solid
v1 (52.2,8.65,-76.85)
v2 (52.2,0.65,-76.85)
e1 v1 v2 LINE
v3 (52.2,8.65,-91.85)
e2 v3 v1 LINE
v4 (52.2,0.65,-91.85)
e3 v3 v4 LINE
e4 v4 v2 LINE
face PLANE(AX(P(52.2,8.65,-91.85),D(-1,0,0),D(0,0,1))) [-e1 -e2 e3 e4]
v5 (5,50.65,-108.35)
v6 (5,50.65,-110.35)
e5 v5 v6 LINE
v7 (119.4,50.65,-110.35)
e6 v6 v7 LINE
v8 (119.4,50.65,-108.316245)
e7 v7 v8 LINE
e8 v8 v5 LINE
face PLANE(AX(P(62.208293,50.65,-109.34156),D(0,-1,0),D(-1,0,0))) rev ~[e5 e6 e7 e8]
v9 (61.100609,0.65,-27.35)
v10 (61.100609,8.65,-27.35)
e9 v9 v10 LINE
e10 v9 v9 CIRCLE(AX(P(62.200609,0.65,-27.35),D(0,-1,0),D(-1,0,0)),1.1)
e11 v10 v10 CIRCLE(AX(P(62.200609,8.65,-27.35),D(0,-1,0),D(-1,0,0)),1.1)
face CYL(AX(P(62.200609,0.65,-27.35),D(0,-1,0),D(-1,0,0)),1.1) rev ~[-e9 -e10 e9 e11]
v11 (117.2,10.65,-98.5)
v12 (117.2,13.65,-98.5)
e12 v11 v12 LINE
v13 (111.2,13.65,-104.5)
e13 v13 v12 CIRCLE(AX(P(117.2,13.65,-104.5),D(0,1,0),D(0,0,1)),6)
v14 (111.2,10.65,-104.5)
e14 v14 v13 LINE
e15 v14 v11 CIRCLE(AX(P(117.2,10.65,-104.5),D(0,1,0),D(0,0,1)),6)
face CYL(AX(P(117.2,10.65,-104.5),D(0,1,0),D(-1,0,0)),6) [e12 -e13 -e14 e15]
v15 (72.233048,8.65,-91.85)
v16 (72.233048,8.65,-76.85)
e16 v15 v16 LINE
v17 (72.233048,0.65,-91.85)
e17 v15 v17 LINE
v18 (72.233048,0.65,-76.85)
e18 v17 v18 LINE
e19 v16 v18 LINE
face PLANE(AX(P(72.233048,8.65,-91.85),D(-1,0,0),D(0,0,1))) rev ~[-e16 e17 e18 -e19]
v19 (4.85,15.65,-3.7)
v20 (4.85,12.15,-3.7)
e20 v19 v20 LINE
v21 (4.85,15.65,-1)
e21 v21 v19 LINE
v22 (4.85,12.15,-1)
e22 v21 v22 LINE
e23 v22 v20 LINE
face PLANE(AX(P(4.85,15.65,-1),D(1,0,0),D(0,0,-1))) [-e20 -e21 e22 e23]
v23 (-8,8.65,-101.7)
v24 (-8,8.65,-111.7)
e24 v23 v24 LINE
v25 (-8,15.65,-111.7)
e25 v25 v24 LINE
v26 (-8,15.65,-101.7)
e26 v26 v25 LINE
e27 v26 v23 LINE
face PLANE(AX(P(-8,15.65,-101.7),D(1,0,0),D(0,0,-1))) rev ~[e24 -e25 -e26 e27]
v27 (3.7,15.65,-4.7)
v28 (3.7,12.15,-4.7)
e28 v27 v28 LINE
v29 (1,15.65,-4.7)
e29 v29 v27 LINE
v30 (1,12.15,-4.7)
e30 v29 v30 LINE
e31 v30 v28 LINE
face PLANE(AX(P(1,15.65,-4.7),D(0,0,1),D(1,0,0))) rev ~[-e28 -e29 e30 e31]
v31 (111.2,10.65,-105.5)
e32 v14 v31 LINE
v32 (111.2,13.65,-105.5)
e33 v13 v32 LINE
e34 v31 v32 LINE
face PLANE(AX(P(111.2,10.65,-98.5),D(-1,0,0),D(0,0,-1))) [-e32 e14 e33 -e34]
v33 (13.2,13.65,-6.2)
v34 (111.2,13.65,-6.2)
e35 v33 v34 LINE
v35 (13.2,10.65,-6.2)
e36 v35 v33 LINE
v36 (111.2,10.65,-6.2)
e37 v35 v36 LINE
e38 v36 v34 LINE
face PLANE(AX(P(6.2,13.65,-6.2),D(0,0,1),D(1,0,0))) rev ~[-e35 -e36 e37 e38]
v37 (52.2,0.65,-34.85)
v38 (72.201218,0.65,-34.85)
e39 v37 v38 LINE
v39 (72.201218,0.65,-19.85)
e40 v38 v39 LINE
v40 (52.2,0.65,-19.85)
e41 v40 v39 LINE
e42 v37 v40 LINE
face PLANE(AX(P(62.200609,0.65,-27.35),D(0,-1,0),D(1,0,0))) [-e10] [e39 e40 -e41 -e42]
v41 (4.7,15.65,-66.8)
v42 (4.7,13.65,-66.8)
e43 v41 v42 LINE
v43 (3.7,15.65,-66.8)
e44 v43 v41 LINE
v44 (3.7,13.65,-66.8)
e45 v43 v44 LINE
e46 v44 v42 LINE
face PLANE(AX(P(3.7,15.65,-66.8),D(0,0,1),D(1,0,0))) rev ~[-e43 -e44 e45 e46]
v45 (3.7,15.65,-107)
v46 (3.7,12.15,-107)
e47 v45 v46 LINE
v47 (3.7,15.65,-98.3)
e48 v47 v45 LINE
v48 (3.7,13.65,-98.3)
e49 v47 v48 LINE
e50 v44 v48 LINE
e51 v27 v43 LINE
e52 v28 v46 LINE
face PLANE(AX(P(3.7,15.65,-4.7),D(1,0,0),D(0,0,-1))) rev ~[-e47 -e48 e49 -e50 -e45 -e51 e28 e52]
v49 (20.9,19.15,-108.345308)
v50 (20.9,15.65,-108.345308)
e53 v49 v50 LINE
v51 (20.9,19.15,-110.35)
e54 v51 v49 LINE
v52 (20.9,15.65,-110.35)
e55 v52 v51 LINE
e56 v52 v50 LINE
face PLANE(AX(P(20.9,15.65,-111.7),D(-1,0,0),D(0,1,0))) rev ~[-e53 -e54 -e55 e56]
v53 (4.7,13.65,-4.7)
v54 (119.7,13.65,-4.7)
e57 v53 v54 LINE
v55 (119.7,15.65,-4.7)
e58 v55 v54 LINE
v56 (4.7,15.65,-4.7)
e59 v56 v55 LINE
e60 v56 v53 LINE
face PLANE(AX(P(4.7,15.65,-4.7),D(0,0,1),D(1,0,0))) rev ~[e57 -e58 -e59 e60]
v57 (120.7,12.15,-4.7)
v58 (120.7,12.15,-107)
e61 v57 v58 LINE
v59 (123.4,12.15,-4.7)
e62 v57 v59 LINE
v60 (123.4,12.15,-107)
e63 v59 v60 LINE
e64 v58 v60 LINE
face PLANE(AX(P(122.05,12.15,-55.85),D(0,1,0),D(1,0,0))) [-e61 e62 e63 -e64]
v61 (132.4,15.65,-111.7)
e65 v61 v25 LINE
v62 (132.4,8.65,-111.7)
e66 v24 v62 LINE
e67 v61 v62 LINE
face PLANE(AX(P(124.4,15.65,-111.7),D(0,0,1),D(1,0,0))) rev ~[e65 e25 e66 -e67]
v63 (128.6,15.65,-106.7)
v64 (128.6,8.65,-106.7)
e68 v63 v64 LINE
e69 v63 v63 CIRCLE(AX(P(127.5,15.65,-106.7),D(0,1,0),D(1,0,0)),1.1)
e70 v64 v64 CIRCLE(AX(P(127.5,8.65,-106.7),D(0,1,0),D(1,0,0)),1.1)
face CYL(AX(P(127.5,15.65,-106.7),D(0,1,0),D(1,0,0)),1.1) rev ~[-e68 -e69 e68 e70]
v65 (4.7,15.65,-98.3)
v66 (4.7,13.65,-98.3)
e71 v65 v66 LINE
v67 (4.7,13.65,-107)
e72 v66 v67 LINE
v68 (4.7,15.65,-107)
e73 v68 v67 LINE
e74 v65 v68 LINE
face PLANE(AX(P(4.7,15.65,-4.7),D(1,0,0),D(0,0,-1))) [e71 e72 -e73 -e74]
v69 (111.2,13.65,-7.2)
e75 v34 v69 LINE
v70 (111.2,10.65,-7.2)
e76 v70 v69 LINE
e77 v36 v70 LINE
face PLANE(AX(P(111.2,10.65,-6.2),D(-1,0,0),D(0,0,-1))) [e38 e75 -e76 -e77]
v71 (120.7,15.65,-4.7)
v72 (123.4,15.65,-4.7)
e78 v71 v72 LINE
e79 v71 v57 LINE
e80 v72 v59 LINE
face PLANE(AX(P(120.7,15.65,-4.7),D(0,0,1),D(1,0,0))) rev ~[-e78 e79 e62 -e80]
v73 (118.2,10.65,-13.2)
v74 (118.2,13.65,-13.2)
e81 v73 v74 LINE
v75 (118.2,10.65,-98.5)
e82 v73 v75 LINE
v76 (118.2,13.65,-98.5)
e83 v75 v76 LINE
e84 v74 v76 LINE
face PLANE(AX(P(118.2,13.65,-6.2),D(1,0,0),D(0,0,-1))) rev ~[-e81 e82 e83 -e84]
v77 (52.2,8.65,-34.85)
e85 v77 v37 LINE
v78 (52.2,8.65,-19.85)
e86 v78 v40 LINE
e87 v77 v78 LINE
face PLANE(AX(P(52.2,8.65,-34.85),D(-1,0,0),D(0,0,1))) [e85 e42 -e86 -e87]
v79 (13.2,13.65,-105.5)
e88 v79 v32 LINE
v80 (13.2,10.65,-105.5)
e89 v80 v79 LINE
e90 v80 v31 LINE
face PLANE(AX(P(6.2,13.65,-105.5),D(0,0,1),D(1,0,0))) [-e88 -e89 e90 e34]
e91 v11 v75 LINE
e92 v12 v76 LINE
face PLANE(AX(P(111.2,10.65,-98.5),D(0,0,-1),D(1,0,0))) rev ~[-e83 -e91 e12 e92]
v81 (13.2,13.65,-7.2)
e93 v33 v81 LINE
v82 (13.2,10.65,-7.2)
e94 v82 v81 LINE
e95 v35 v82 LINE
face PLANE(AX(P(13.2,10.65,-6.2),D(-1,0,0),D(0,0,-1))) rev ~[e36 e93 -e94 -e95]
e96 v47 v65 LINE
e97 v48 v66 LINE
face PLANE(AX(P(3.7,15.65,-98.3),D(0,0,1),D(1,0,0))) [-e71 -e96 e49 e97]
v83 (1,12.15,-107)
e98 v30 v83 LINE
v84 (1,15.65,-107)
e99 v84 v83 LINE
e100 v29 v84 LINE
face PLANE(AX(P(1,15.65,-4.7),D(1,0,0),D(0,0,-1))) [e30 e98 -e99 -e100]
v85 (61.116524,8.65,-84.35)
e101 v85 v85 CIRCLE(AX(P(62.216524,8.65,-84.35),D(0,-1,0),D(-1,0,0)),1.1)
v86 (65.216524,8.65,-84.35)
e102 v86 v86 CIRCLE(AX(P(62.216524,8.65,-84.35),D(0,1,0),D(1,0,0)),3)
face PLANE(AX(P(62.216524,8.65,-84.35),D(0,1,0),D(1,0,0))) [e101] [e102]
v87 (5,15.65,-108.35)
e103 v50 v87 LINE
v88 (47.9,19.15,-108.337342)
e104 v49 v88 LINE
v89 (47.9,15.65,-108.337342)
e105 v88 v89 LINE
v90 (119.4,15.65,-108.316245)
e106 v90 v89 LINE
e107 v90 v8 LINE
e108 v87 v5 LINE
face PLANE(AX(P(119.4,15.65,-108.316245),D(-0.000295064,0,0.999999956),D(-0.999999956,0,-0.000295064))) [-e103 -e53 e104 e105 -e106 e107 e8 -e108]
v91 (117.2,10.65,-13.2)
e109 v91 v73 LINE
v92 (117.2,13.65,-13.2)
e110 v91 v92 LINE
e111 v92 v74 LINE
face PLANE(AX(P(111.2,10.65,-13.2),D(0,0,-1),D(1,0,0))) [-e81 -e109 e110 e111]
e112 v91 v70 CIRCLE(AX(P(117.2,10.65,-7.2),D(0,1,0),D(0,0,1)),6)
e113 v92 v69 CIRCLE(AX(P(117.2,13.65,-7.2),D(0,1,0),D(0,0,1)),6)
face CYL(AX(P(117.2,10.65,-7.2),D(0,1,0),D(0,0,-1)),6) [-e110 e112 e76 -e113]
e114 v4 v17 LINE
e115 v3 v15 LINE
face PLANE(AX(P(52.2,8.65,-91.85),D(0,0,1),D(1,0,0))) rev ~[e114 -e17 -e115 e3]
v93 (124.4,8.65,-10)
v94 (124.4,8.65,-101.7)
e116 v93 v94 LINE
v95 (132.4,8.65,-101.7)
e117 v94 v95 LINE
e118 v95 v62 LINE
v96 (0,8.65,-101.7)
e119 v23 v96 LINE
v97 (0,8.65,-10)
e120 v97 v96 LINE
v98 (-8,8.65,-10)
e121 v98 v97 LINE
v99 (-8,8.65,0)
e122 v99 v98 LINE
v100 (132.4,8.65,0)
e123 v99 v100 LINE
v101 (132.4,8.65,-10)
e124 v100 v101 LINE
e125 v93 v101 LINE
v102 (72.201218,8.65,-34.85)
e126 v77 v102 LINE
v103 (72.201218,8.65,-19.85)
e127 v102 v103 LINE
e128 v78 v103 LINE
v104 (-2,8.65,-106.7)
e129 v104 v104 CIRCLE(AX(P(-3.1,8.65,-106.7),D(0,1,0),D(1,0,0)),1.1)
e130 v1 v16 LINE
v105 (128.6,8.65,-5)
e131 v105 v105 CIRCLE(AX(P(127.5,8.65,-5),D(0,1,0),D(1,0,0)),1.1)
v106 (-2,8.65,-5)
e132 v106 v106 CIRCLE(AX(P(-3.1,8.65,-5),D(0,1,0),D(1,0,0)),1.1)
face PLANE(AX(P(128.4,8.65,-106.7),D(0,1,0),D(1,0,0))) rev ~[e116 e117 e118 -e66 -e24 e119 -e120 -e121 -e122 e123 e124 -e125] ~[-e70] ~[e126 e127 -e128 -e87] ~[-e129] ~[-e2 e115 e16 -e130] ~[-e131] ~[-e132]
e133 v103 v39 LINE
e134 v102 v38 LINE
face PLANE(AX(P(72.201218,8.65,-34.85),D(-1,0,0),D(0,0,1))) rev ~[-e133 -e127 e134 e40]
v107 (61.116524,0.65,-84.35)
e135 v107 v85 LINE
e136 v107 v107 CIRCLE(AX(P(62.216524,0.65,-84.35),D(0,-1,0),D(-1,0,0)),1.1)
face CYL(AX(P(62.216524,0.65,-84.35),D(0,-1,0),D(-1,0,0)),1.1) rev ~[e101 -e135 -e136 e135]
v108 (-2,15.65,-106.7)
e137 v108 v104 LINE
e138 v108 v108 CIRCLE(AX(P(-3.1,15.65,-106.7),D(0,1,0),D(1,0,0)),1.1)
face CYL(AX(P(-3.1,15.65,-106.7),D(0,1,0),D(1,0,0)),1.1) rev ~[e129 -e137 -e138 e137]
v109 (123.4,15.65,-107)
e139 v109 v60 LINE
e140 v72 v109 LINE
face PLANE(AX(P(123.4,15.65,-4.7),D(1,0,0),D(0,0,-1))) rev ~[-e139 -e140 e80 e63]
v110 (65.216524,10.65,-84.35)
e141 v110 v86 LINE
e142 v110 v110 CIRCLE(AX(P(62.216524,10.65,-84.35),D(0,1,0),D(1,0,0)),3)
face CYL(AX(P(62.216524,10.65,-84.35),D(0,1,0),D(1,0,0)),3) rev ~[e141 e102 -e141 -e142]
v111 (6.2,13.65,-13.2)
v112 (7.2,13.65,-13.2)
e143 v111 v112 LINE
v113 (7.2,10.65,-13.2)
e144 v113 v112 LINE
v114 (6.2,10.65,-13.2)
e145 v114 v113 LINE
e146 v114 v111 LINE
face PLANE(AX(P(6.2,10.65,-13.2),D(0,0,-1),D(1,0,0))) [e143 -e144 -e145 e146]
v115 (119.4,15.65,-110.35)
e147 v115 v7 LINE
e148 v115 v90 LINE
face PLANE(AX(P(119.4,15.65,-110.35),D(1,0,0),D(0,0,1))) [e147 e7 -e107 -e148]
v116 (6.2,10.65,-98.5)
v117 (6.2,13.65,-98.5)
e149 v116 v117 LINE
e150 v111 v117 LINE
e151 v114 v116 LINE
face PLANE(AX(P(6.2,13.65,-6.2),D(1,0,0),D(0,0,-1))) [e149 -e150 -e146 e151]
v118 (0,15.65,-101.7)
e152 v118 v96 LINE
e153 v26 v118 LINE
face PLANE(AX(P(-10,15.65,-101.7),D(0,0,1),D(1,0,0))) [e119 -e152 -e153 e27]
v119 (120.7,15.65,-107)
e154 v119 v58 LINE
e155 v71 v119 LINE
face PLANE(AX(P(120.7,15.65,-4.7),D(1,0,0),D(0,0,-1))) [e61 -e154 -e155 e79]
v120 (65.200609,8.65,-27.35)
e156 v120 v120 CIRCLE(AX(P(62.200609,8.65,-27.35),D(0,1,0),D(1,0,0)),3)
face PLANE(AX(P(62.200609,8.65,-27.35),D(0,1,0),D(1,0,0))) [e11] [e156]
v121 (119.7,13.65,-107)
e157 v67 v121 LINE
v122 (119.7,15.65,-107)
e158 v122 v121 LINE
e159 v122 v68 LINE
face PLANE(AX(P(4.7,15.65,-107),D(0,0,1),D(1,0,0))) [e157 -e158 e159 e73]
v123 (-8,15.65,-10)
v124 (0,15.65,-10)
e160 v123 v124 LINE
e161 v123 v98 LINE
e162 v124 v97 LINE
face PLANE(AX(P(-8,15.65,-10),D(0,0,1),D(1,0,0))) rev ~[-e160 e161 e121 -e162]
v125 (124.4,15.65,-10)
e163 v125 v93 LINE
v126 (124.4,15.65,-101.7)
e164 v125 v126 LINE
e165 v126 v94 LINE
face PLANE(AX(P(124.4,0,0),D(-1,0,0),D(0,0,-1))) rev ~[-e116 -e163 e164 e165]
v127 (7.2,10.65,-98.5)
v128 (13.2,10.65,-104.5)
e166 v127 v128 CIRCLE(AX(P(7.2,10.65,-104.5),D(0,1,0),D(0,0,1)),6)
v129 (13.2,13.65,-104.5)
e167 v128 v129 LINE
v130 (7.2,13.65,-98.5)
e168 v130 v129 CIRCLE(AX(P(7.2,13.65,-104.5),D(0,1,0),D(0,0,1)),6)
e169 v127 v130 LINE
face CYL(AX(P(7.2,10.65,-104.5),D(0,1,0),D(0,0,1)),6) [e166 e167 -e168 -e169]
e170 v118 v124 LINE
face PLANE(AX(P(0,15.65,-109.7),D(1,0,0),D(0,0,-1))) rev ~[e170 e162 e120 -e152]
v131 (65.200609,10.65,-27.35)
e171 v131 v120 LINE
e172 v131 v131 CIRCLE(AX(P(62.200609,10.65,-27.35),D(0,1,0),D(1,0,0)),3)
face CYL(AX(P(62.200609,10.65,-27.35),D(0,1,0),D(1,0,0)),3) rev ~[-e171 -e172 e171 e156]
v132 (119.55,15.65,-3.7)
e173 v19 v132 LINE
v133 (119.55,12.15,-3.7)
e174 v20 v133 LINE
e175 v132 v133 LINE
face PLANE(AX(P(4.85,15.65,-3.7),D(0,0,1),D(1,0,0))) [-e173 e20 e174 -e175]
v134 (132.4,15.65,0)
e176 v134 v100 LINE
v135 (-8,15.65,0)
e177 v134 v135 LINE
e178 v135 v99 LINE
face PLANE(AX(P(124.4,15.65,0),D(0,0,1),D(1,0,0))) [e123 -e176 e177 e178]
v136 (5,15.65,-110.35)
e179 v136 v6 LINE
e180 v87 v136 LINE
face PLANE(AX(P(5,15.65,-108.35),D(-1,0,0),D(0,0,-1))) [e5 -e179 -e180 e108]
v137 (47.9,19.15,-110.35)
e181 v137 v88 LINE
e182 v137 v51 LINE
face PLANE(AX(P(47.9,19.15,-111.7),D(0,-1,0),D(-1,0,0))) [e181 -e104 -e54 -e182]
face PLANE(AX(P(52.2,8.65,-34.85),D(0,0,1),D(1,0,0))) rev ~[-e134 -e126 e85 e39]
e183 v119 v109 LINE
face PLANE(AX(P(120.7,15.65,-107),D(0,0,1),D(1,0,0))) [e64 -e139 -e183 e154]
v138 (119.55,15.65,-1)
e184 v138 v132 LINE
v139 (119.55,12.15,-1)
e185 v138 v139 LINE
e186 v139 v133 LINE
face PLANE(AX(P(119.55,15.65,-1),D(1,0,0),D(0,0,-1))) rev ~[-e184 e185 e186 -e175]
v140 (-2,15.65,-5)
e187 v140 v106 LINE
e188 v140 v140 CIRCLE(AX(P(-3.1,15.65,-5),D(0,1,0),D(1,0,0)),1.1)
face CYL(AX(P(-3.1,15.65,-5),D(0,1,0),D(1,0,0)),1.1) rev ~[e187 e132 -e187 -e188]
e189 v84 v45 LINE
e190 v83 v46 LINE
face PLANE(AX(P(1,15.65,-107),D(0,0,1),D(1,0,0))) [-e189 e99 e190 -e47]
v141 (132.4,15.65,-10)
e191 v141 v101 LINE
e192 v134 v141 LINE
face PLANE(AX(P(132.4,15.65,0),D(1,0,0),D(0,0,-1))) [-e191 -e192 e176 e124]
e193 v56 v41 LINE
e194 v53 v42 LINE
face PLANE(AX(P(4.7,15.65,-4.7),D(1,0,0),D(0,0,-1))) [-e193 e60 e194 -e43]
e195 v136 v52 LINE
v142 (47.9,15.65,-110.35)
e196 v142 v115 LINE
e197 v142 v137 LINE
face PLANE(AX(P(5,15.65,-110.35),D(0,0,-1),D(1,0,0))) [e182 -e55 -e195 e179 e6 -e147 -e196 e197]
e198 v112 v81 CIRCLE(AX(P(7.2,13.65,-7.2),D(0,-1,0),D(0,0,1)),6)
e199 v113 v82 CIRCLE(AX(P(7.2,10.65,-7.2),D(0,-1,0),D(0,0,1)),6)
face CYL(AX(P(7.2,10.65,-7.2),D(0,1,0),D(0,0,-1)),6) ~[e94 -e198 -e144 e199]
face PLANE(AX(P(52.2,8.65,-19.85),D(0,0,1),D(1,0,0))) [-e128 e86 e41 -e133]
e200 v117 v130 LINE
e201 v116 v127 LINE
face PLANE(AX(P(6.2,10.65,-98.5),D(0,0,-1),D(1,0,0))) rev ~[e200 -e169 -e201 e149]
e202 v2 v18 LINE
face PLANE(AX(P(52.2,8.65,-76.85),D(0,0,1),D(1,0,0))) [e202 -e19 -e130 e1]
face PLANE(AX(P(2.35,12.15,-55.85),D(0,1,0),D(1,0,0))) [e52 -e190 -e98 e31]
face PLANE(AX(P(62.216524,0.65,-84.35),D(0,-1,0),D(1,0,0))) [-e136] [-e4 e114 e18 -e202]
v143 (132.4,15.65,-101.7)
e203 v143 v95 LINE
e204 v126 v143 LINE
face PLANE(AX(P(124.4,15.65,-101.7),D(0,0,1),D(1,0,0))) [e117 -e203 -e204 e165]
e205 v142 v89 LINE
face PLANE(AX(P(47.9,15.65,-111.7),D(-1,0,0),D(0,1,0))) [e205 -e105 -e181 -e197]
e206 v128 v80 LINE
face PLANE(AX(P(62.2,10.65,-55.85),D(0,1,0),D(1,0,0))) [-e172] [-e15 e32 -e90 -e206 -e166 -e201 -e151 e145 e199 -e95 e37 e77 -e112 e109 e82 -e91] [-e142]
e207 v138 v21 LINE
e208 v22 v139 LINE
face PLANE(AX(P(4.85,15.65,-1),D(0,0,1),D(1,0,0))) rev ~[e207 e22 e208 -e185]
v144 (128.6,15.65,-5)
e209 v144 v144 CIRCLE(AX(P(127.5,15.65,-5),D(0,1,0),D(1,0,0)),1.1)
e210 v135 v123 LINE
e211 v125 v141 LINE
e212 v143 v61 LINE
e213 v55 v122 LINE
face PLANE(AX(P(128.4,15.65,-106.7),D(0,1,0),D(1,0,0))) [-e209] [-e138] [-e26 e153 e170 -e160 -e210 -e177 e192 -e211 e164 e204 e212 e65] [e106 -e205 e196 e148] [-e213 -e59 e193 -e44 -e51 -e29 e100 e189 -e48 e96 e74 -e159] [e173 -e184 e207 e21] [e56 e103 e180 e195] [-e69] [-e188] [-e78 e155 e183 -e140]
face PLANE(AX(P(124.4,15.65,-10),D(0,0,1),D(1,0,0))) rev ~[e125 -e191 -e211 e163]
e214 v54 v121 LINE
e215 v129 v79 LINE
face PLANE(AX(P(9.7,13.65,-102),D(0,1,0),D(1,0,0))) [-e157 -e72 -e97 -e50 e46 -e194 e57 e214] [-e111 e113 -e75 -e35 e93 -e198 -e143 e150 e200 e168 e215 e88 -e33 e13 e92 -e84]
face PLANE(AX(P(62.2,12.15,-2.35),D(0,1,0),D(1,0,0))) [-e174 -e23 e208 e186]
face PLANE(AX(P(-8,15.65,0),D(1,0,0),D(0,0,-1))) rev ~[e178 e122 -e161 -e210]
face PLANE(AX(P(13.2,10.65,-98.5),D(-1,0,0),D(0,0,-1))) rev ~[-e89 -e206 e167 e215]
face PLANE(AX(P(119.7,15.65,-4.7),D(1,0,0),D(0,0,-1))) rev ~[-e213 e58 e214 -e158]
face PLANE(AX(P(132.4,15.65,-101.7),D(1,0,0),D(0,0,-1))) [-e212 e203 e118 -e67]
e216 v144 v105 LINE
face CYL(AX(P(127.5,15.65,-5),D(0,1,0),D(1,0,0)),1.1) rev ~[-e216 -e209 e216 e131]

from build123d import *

# Parameters (mm, degrees)
SKETCH1_W            = 124.4
SKETCH1_H            = 111.7
BOSS_EXTRUDE1_DEPTH  = 15.65
FILLET1_R            = 2
SKETCH4_W            = 115
SKETCH4_H            = 102.3
CUT_EXTRUDE1_DEPTH   = 2
SKETCH5_W            = 112
SKETCH5_H            = 99.3
CUT_EXTRUDE2_DEPTH   = 3
SKETCH10_W           = 7
SKETCH10_H           = 7
BOSS_EXTRUDE2_DEPTH  = 3
BOSS_EXTRUDE5_DEPTH  = 35
FILLET3_R            = 6
SKETCH32_W           = 114.7
SKETCH32_H           = 2.7
SKETCH32_W_2         = 2.7
SKETCH32_H_2         = 102.3
CUT_EXTRUDE7_DEPTH   = 3.5
SKETCH29_W           = 27
SKETCH29_H           = 3.5
CUT_EXTRUDE8_DEPTH   = 112.7
SKETCH34_W           = 1
SKETCH34_H           = 31.5
CUT_EXTRUDE9_DEPTH   = 2
SKETCH39_W           = 124.4
SKETCH39_H           = 111.7
CUT_EXTRUDE14_DEPTH  = 8.65
SKETCH40_W           = 10.736913624
SKETCH40_H           = 4.7
BOSS_EXTRUDE8_DEPTH  = 7
SKETCH42_W           = 6.036913624
SKETCH42_H           = 2.116828075
BOSS_EXTRUDE9_DEPTH  = 7
SKETCH43_W           = 2
SKETCH43_H           = 3.979386742
BOSS_EXTRUDE10_DEPTH = 7
SKETCH44_W           = 10.013933806
SKETCH44_H           = 10.028001726
BOSS_EXTRUDE11_DEPTH = 7
SKETCH45_R           = 1.1
CUT_EXTRUDE15_DEPTH  = 8
SKETCH46_W           = 2
SKETCH46_H           = 2
BOSS_EXTRUDE12_DEPTH = 7
SKETCH47_W           = 2
SKETCH47_H           = 2
BOSS_EXTRUDE13_DEPTH = 7
SKETCH48_W           = 10
SKETCH48_H           = 10
BOSS_EXTRUDE14_DEPTH = 7
SKETCH49_R           = 1.1
SKETCH49_W           = 6.036913624
SKETCH49_H           = 6.816828075
CUT_EXTRUDE18_DEPTH  = 7
SKETCH50_W           = 8
SKETCH50_H           = 10
BOSS_EXTRUDE17_DEPTH = 7
SKETCH51_W           = 5.24842793
SKETCH51_H           = 4.514776714
BOSS_EXTRUDE18_DEPTH = 7
SKETCH52_W           = 2
SKETCH52_H           = 10
CUT_EXTRUDE19_DEPTH  = 7
SKETCH53_W           = 10.013933806
SKETCH53_H           = 10.028001726
CUT_EXTRUDE20_DEPTH  = 7
SKETCH54_W           = 8
SKETCH54_H           = 10
BOSS_EXTRUDE19_DEPTH = 7
SKETCH55_W           = 8
SKETCH55_H           = 10
BOSS_EXTRUDE20_DEPTH = 7
SKETCH56_R           = 1.1
CUT_EXTRUDE21_DEPTH  = 7
SKETCH57_R           = 1.1
CUT_EXTRUDE22_DEPTH  = 7
SKETCH58_R           = 1.1
CUT_EXTRUDE23_DEPTH  = 7
SKETCH59_R           = 1.1
CUT_EXTRUDE24_DEPTH  = 7
SKETCH61_W           = 20.033048375
SKETCH61_H           = 15
SKETCH61_W_2         = 20.00121795
BOSS_EXTRUDE22_DEPTH = 8
SKETCH64_R           = 1.1
CUT_EXTRUDE27_DEPTH  = 51
SKETCH65_R           = 3
CUT_EXTRUDE28_DEPTH  = 2


with BuildPart() as part:
    # Sketch1 → Boss-Extrude1 (new body)
    with BuildSketch(Plane(origin=(0, 0, 0), x_dir=(1, 0, 0), z_dir=(0, 1, 0))):
        with Locations((62.2, 55.85)):
            Rectangle(SKETCH1_W, SKETCH1_H)
    extrude(amount=BOSS_EXTRUDE1_DEPTH)

    # Fillet1
    fillet1_edges = [part.edges().sort_by_distance(p)[0] for p in [
        (0, 7.825, -111.7),
        (124.4, 7.825, -111.7),
        (124.4, 7.825, 0),
        (0, 7.825, 0),
    ]]
    fillet(fillet1_edges, radius=FILLET1_R)

    # Sketch4 → Cut-Extrude1 (cut)
    with BuildSketch(Plane(origin=(0, 15.65, 0), x_dir=(1, 0, 0), z_dir=(0, 1, 0))):
        with Locations((62.2, 55.85)):
            Rectangle(SKETCH4_W, SKETCH4_H)
    extrude(amount=-CUT_EXTRUDE1_DEPTH, mode=Mode.SUBTRACT)

    # Sketch5 → Cut-Extrude2 (cut)
    with BuildSketch(Plane(origin=(0, 13.65, 0), x_dir=(1, 0, 0), z_dir=(0, 1, 0))):
        with Locations((62.2, 55.85)):
            Rectangle(SKETCH5_W, SKETCH5_H)
    extrude(amount=-CUT_EXTRUDE2_DEPTH, mode=Mode.SUBTRACT)

    # Sketch10 → Boss-Extrude2 (add)
    with BuildSketch(Plane(origin=(0, 10.65, 0), x_dir=(1, 0, 0), z_dir=(0, 1, 0))):
        with Locations((9.7, 102)):
            Rectangle(SKETCH10_W, SKETCH10_H)
        with Locations((9.7, 9.7)):
            Rectangle(SKETCH10_W, SKETCH10_H)
        with Locations((114.7, 102)):
            Rectangle(SKETCH10_W, SKETCH10_H)
        with Locations((114.7, 9.7)):
            Rectangle(SKETCH10_W, SKETCH10_H)
    extrude(amount=BOSS_EXTRUDE2_DEPTH)

    # Sketch27 → Boss-Extrude5 (add)
    with BuildSketch(Plane(origin=(0, 15.65, 0), x_dir=(1, 0, 0), z_dir=(0, 1, 0))):
        Polygon((5, 110.35), (119.4, 110.35), (119.4, 108.316244658), (5, 108.35), align=None)
    extrude(amount=BOSS_EXTRUDE5_DEPTH)

    # Fillet3
    fillet3_edges = [part.edges().sort_by_distance(p)[0] for p in [
        (111.2, 12.15, -13.2),
        (13.2, 12.15, -98.5),
        (13.2, 12.15, -13.2),
        (111.2, 12.15, -98.5),
    ]]
    fillet(fillet3_edges, radius=FILLET3_R)

    # Sketch32 → Cut-Extrude7 (cut)
    with BuildSketch(Plane(origin=(0, 15.65, 0), x_dir=(1, 0, 0), z_dir=(0, 1, 0))):
        with Locations((62.2, 2.35)):
            Rectangle(SKETCH32_W, SKETCH32_H)
        with Locations((2.35, 55.85)):
            Rectangle(SKETCH32_W_2, SKETCH32_H_2)
        with Locations((122.05, 55.85)):
            Rectangle(SKETCH32_W_2, SKETCH32_H_2)
    extrude(amount=-CUT_EXTRUDE7_DEPTH, mode=Mode.SUBTRACT)

    # Sketch29 → Cut-Extrude8 (cut, through all)
    with BuildSketch(Plane(origin=(0, 0, -111.7), x_dir=(-1, 0, 0), z_dir=(0, 0, -1))):
        with Locations((-34.4, 17.4)):
            Rectangle(SKETCH29_W, SKETCH29_H)
    extrude(amount=-CUT_EXTRUDE8_DEPTH, mode=Mode.SUBTRACT)

    # Sketch34 → Cut-Extrude9 (cut)
    with BuildSketch(Plane(origin=(0, 15.65, 0), x_dir=(1, 0, 0), z_dir=(0, 1, 0))):
        with Locations((4.2, 82.55)):
            Rectangle(SKETCH34_W, SKETCH34_H)
    extrude(amount=-CUT_EXTRUDE9_DEPTH, mode=Mode.SUBTRACT)

    # Sketch39 → Cut-Extrude14 (cut)
    with BuildSketch(Plane(origin=(0, 0, 0), x_dir=(-1, 0, 0), z_dir=(0, -1, 0))):
        with Locations((-62.2, 55.85)):
            Rectangle(SKETCH39_W, SKETCH39_H)
    extrude(amount=-CUT_EXTRUDE14_DEPTH, mode=Mode.SUBTRACT)

    # Sketch40 → Boss-Extrude8 (add)
    with BuildSketch(Plane(origin=(0, 15.65, 0), x_dir=(1, 0, 0), z_dir=(0, 1, 0))):
        with Locations((-0.668456812, 2.35)):
            Rectangle(SKETCH40_W, SKETCH40_H)
    extrude(amount=-BOSS_EXTRUDE8_DEPTH)

    # Sketch42 → Boss-Extrude9 (add)
    with BuildSketch(Plane(origin=(0, 15.65, 0), x_dir=(1, 0, 0), z_dir=(0, 1, 0))):
        with Locations((-3.018456812, 5.758414037)):
            Rectangle(SKETCH42_W, SKETCH42_H)
    extrude(amount=-BOSS_EXTRUDE9_DEPTH)

    # Sketch43 → Boss-Extrude10 (add)
    with BuildSketch(Plane(origin=(0, 15.65, 0), x_dir=(1, 0, 0), z_dir=(0, 1, 0))):
        with Locations((123.4, 1.989693371)):
            Rectangle(SKETCH43_W, SKETCH43_H)
    extrude(amount=-BOSS_EXTRUDE10_DEPTH)

    # Sketch44 → Boss-Extrude11 (add)
    with BuildSketch(Plane(origin=(0, 15.65, 0), x_dir=(1, 0, 0), z_dir=(0, 1, 0))):
        with Locations((129.406966903, 5.014000863)):
            Rectangle(SKETCH44_W, SKETCH44_H)
    extrude(amount=-BOSS_EXTRUDE11_DEPTH)

    # Sketch45 → Cut-Extrude15 (cut, through all)
    with BuildSketch(Plane(origin=(0, 15.65, 0), x_dir=(1, 0, 0), z_dir=(0, 1, 0))):
        with Locations((129.4, 5)):
            Circle(SKETCH45_R)
    extrude(amount=-CUT_EXTRUDE15_DEPTH, mode=Mode.SUBTRACT)

    # Sketch46 → Boss-Extrude12 (add)
    with BuildSketch(Plane(origin=(0, 15.65, 0), x_dir=(1, 0, 0), z_dir=(0, 1, 0))):
        with Locations((123.4, 110.7)):
            Rectangle(SKETCH46_W, SKETCH46_H)
    extrude(amount=-BOSS_EXTRUDE12_DEPTH)

    # Sketch47 → Boss-Extrude13 (add)
    with BuildSketch(Plane(origin=(0, 15.65, 0), x_dir=(1, 0, 0), z_dir=(0, 1, 0))):
        with Locations((1, 110.7)):
            Rectangle(SKETCH47_W, SKETCH47_H)
    extrude(amount=-BOSS_EXTRUDE13_DEPTH)

    # Sketch48 → Boss-Extrude14 (add)
    with BuildSketch(Plane(origin=(0, 15.65, 0), x_dir=(1, 0, 0), z_dir=(0, 1, 0))):
        with Locations((-5, 106.7)):
            Rectangle(SKETCH48_W, SKETCH48_H)
    extrude(amount=-BOSS_EXTRUDE14_DEPTH)

    # Sketch49 → Cut-Extrude18 (cut)
    with BuildSketch(Plane(origin=(0, 15.65, 0), x_dir=(1, 0, 0), z_dir=(0, 1, 0))):
        with Locations((-5, 106.7)):
            Circle(SKETCH49_R)
        with Locations((-3.018456812, 3.408414038)):
            Rectangle(SKETCH49_W, SKETCH49_H)
    extrude(amount=-CUT_EXTRUDE18_DEPTH, mode=Mode.SUBTRACT)

    # Sketch50 → Boss-Extrude17 (add)
    with BuildSketch(Plane(origin=(0, 15.65, 0), x_dir=(1, 0, 0), z_dir=(0, 1, 0))):
        with Locations((-4, 5)):
            Rectangle(SKETCH50_W, SKETCH50_H)
    extrude(amount=-BOSS_EXTRUDE17_DEPTH)

    # Sketch51 → Boss-Extrude18 (add)
    with BuildSketch(Plane(origin=(0, 15.65, 0), x_dir=(1, 0, 0), z_dir=(0, 1, 0))):
        with Locations((-4.818404413, 107.053945145)):
            Rectangle(SKETCH51_W, SKETCH51_H)
    extrude(amount=-BOSS_EXTRUDE18_DEPTH)

    # Sketch52 → Cut-Extrude19 (cut)
    with BuildSketch(Plane(origin=(0, 15.65, 0), x_dir=(1, 0, 0), z_dir=(0, 1, 0))):
        with Locations((-9, 106.7)):
            Rectangle(SKETCH52_W, SKETCH52_H)
    extrude(amount=-CUT_EXTRUDE19_DEPTH, mode=Mode.SUBTRACT)

    # Sketch53 → Cut-Extrude20 (cut)
    with BuildSketch(Plane(origin=(0, 15.65, 0), x_dir=(1, 0, 0), z_dir=(0, 1, 0))):
        with Locations((129.406966903, 5.014000863)):
            Rectangle(SKETCH53_W, SKETCH53_H)
    extrude(amount=-CUT_EXTRUDE20_DEPTH, mode=Mode.SUBTRACT)

    # Sketch54 → Boss-Extrude19 (add)
    with BuildSketch(Plane(origin=(0, 15.65, 0), x_dir=(1, 0, 0), z_dir=(0, 1, 0))):
        with Locations((128.4, 5)):
            Rectangle(SKETCH54_W, SKETCH54_H)
    extrude(amount=-BOSS_EXTRUDE19_DEPTH)

    # Sketch55 → Boss-Extrude20 (add)
    with BuildSketch(Plane(origin=(0, 15.65, 0), x_dir=(1, 0, 0), z_dir=(0, 1, 0))):
        with Locations((128.4, 106.7)):
            Rectangle(SKETCH55_W, SKETCH55_H)
    extrude(amount=-BOSS_EXTRUDE20_DEPTH)

    # Sketch56 → Cut-Extrude21 (cut)
    with BuildSketch(Plane(origin=(0, 15.65, 0), x_dir=(1, 0, 0), z_dir=(0, 1, 0))):
        with Locations((-3.1, 106.7)):
            Circle(SKETCH56_R)
    extrude(amount=-CUT_EXTRUDE21_DEPTH, mode=Mode.SUBTRACT)

    # Sketch57 → Cut-Extrude22 (cut)
    with BuildSketch(Plane(origin=(0, 15.65, 0), x_dir=(1, 0, 0), z_dir=(0, 1, 0))):
        with Locations((-3.1, 5)):
            Circle(SKETCH57_R)
    extrude(amount=-CUT_EXTRUDE22_DEPTH, mode=Mode.SUBTRACT)

    # Sketch58 → Cut-Extrude23 (cut)
    with BuildSketch(Plane(origin=(0, 15.65, 0), x_dir=(1, 0, 0), z_dir=(0, 1, 0))):
        with Locations((127.5, 5)):
            Circle(SKETCH58_R)
    extrude(amount=-CUT_EXTRUDE23_DEPTH, mode=Mode.SUBTRACT)

    # Sketch59 → Cut-Extrude24 (cut)
    with BuildSketch(Plane(origin=(0, 15.65, 0), x_dir=(1, 0, 0), z_dir=(0, 1, 0))):
        with Locations((127.5, 106.7)):
            Circle(SKETCH59_R)
    extrude(amount=-CUT_EXTRUDE24_DEPTH, mode=Mode.SUBTRACT)

    # Sketch61 → Boss-Extrude22 (add)
    with BuildSketch(Plane.XZ.offset(-8.65)):
        with Locations((62.216524188, -84.35)):
            Rectangle(SKETCH61_W, SKETCH61_H)
        with Locations((62.200608975, -27.35)):
            Rectangle(SKETCH61_W_2, SKETCH61_H)
    extrude(amount=BOSS_EXTRUDE22_DEPTH)

    # Sketch64 → Cut-Extrude27 (cut, through all)
    with BuildSketch(Plane(origin=(0, 0.65, 0), x_dir=(-1, 0, 0), z_dir=(0, -1, 0))):
        with Locations((-62.216524187, 84.35)):
            Circle(SKETCH64_R)
        with Locations((-62.200608975, 27.35)):
            Circle(SKETCH64_R)
    extrude(amount=-CUT_EXTRUDE27_DEPTH, mode=Mode.SUBTRACT)

    # Sketch65 → Cut-Extrude28 (cut)
    with BuildSketch(Plane(origin=(0, 10.65, 0), x_dir=(1, 0, 0), z_dir=(0, 1, 0))):
        with Locations((62.200608975, 27.35)):
            Circle(SKETCH65_R)
        with Locations((62.216524187, 84.35)):
            Circle(SKETCH65_R)
    extrude(amount=-CUT_EXTRUDE28_DEPTH, mode=Mode.SUBTRACT)


solid = part.part
